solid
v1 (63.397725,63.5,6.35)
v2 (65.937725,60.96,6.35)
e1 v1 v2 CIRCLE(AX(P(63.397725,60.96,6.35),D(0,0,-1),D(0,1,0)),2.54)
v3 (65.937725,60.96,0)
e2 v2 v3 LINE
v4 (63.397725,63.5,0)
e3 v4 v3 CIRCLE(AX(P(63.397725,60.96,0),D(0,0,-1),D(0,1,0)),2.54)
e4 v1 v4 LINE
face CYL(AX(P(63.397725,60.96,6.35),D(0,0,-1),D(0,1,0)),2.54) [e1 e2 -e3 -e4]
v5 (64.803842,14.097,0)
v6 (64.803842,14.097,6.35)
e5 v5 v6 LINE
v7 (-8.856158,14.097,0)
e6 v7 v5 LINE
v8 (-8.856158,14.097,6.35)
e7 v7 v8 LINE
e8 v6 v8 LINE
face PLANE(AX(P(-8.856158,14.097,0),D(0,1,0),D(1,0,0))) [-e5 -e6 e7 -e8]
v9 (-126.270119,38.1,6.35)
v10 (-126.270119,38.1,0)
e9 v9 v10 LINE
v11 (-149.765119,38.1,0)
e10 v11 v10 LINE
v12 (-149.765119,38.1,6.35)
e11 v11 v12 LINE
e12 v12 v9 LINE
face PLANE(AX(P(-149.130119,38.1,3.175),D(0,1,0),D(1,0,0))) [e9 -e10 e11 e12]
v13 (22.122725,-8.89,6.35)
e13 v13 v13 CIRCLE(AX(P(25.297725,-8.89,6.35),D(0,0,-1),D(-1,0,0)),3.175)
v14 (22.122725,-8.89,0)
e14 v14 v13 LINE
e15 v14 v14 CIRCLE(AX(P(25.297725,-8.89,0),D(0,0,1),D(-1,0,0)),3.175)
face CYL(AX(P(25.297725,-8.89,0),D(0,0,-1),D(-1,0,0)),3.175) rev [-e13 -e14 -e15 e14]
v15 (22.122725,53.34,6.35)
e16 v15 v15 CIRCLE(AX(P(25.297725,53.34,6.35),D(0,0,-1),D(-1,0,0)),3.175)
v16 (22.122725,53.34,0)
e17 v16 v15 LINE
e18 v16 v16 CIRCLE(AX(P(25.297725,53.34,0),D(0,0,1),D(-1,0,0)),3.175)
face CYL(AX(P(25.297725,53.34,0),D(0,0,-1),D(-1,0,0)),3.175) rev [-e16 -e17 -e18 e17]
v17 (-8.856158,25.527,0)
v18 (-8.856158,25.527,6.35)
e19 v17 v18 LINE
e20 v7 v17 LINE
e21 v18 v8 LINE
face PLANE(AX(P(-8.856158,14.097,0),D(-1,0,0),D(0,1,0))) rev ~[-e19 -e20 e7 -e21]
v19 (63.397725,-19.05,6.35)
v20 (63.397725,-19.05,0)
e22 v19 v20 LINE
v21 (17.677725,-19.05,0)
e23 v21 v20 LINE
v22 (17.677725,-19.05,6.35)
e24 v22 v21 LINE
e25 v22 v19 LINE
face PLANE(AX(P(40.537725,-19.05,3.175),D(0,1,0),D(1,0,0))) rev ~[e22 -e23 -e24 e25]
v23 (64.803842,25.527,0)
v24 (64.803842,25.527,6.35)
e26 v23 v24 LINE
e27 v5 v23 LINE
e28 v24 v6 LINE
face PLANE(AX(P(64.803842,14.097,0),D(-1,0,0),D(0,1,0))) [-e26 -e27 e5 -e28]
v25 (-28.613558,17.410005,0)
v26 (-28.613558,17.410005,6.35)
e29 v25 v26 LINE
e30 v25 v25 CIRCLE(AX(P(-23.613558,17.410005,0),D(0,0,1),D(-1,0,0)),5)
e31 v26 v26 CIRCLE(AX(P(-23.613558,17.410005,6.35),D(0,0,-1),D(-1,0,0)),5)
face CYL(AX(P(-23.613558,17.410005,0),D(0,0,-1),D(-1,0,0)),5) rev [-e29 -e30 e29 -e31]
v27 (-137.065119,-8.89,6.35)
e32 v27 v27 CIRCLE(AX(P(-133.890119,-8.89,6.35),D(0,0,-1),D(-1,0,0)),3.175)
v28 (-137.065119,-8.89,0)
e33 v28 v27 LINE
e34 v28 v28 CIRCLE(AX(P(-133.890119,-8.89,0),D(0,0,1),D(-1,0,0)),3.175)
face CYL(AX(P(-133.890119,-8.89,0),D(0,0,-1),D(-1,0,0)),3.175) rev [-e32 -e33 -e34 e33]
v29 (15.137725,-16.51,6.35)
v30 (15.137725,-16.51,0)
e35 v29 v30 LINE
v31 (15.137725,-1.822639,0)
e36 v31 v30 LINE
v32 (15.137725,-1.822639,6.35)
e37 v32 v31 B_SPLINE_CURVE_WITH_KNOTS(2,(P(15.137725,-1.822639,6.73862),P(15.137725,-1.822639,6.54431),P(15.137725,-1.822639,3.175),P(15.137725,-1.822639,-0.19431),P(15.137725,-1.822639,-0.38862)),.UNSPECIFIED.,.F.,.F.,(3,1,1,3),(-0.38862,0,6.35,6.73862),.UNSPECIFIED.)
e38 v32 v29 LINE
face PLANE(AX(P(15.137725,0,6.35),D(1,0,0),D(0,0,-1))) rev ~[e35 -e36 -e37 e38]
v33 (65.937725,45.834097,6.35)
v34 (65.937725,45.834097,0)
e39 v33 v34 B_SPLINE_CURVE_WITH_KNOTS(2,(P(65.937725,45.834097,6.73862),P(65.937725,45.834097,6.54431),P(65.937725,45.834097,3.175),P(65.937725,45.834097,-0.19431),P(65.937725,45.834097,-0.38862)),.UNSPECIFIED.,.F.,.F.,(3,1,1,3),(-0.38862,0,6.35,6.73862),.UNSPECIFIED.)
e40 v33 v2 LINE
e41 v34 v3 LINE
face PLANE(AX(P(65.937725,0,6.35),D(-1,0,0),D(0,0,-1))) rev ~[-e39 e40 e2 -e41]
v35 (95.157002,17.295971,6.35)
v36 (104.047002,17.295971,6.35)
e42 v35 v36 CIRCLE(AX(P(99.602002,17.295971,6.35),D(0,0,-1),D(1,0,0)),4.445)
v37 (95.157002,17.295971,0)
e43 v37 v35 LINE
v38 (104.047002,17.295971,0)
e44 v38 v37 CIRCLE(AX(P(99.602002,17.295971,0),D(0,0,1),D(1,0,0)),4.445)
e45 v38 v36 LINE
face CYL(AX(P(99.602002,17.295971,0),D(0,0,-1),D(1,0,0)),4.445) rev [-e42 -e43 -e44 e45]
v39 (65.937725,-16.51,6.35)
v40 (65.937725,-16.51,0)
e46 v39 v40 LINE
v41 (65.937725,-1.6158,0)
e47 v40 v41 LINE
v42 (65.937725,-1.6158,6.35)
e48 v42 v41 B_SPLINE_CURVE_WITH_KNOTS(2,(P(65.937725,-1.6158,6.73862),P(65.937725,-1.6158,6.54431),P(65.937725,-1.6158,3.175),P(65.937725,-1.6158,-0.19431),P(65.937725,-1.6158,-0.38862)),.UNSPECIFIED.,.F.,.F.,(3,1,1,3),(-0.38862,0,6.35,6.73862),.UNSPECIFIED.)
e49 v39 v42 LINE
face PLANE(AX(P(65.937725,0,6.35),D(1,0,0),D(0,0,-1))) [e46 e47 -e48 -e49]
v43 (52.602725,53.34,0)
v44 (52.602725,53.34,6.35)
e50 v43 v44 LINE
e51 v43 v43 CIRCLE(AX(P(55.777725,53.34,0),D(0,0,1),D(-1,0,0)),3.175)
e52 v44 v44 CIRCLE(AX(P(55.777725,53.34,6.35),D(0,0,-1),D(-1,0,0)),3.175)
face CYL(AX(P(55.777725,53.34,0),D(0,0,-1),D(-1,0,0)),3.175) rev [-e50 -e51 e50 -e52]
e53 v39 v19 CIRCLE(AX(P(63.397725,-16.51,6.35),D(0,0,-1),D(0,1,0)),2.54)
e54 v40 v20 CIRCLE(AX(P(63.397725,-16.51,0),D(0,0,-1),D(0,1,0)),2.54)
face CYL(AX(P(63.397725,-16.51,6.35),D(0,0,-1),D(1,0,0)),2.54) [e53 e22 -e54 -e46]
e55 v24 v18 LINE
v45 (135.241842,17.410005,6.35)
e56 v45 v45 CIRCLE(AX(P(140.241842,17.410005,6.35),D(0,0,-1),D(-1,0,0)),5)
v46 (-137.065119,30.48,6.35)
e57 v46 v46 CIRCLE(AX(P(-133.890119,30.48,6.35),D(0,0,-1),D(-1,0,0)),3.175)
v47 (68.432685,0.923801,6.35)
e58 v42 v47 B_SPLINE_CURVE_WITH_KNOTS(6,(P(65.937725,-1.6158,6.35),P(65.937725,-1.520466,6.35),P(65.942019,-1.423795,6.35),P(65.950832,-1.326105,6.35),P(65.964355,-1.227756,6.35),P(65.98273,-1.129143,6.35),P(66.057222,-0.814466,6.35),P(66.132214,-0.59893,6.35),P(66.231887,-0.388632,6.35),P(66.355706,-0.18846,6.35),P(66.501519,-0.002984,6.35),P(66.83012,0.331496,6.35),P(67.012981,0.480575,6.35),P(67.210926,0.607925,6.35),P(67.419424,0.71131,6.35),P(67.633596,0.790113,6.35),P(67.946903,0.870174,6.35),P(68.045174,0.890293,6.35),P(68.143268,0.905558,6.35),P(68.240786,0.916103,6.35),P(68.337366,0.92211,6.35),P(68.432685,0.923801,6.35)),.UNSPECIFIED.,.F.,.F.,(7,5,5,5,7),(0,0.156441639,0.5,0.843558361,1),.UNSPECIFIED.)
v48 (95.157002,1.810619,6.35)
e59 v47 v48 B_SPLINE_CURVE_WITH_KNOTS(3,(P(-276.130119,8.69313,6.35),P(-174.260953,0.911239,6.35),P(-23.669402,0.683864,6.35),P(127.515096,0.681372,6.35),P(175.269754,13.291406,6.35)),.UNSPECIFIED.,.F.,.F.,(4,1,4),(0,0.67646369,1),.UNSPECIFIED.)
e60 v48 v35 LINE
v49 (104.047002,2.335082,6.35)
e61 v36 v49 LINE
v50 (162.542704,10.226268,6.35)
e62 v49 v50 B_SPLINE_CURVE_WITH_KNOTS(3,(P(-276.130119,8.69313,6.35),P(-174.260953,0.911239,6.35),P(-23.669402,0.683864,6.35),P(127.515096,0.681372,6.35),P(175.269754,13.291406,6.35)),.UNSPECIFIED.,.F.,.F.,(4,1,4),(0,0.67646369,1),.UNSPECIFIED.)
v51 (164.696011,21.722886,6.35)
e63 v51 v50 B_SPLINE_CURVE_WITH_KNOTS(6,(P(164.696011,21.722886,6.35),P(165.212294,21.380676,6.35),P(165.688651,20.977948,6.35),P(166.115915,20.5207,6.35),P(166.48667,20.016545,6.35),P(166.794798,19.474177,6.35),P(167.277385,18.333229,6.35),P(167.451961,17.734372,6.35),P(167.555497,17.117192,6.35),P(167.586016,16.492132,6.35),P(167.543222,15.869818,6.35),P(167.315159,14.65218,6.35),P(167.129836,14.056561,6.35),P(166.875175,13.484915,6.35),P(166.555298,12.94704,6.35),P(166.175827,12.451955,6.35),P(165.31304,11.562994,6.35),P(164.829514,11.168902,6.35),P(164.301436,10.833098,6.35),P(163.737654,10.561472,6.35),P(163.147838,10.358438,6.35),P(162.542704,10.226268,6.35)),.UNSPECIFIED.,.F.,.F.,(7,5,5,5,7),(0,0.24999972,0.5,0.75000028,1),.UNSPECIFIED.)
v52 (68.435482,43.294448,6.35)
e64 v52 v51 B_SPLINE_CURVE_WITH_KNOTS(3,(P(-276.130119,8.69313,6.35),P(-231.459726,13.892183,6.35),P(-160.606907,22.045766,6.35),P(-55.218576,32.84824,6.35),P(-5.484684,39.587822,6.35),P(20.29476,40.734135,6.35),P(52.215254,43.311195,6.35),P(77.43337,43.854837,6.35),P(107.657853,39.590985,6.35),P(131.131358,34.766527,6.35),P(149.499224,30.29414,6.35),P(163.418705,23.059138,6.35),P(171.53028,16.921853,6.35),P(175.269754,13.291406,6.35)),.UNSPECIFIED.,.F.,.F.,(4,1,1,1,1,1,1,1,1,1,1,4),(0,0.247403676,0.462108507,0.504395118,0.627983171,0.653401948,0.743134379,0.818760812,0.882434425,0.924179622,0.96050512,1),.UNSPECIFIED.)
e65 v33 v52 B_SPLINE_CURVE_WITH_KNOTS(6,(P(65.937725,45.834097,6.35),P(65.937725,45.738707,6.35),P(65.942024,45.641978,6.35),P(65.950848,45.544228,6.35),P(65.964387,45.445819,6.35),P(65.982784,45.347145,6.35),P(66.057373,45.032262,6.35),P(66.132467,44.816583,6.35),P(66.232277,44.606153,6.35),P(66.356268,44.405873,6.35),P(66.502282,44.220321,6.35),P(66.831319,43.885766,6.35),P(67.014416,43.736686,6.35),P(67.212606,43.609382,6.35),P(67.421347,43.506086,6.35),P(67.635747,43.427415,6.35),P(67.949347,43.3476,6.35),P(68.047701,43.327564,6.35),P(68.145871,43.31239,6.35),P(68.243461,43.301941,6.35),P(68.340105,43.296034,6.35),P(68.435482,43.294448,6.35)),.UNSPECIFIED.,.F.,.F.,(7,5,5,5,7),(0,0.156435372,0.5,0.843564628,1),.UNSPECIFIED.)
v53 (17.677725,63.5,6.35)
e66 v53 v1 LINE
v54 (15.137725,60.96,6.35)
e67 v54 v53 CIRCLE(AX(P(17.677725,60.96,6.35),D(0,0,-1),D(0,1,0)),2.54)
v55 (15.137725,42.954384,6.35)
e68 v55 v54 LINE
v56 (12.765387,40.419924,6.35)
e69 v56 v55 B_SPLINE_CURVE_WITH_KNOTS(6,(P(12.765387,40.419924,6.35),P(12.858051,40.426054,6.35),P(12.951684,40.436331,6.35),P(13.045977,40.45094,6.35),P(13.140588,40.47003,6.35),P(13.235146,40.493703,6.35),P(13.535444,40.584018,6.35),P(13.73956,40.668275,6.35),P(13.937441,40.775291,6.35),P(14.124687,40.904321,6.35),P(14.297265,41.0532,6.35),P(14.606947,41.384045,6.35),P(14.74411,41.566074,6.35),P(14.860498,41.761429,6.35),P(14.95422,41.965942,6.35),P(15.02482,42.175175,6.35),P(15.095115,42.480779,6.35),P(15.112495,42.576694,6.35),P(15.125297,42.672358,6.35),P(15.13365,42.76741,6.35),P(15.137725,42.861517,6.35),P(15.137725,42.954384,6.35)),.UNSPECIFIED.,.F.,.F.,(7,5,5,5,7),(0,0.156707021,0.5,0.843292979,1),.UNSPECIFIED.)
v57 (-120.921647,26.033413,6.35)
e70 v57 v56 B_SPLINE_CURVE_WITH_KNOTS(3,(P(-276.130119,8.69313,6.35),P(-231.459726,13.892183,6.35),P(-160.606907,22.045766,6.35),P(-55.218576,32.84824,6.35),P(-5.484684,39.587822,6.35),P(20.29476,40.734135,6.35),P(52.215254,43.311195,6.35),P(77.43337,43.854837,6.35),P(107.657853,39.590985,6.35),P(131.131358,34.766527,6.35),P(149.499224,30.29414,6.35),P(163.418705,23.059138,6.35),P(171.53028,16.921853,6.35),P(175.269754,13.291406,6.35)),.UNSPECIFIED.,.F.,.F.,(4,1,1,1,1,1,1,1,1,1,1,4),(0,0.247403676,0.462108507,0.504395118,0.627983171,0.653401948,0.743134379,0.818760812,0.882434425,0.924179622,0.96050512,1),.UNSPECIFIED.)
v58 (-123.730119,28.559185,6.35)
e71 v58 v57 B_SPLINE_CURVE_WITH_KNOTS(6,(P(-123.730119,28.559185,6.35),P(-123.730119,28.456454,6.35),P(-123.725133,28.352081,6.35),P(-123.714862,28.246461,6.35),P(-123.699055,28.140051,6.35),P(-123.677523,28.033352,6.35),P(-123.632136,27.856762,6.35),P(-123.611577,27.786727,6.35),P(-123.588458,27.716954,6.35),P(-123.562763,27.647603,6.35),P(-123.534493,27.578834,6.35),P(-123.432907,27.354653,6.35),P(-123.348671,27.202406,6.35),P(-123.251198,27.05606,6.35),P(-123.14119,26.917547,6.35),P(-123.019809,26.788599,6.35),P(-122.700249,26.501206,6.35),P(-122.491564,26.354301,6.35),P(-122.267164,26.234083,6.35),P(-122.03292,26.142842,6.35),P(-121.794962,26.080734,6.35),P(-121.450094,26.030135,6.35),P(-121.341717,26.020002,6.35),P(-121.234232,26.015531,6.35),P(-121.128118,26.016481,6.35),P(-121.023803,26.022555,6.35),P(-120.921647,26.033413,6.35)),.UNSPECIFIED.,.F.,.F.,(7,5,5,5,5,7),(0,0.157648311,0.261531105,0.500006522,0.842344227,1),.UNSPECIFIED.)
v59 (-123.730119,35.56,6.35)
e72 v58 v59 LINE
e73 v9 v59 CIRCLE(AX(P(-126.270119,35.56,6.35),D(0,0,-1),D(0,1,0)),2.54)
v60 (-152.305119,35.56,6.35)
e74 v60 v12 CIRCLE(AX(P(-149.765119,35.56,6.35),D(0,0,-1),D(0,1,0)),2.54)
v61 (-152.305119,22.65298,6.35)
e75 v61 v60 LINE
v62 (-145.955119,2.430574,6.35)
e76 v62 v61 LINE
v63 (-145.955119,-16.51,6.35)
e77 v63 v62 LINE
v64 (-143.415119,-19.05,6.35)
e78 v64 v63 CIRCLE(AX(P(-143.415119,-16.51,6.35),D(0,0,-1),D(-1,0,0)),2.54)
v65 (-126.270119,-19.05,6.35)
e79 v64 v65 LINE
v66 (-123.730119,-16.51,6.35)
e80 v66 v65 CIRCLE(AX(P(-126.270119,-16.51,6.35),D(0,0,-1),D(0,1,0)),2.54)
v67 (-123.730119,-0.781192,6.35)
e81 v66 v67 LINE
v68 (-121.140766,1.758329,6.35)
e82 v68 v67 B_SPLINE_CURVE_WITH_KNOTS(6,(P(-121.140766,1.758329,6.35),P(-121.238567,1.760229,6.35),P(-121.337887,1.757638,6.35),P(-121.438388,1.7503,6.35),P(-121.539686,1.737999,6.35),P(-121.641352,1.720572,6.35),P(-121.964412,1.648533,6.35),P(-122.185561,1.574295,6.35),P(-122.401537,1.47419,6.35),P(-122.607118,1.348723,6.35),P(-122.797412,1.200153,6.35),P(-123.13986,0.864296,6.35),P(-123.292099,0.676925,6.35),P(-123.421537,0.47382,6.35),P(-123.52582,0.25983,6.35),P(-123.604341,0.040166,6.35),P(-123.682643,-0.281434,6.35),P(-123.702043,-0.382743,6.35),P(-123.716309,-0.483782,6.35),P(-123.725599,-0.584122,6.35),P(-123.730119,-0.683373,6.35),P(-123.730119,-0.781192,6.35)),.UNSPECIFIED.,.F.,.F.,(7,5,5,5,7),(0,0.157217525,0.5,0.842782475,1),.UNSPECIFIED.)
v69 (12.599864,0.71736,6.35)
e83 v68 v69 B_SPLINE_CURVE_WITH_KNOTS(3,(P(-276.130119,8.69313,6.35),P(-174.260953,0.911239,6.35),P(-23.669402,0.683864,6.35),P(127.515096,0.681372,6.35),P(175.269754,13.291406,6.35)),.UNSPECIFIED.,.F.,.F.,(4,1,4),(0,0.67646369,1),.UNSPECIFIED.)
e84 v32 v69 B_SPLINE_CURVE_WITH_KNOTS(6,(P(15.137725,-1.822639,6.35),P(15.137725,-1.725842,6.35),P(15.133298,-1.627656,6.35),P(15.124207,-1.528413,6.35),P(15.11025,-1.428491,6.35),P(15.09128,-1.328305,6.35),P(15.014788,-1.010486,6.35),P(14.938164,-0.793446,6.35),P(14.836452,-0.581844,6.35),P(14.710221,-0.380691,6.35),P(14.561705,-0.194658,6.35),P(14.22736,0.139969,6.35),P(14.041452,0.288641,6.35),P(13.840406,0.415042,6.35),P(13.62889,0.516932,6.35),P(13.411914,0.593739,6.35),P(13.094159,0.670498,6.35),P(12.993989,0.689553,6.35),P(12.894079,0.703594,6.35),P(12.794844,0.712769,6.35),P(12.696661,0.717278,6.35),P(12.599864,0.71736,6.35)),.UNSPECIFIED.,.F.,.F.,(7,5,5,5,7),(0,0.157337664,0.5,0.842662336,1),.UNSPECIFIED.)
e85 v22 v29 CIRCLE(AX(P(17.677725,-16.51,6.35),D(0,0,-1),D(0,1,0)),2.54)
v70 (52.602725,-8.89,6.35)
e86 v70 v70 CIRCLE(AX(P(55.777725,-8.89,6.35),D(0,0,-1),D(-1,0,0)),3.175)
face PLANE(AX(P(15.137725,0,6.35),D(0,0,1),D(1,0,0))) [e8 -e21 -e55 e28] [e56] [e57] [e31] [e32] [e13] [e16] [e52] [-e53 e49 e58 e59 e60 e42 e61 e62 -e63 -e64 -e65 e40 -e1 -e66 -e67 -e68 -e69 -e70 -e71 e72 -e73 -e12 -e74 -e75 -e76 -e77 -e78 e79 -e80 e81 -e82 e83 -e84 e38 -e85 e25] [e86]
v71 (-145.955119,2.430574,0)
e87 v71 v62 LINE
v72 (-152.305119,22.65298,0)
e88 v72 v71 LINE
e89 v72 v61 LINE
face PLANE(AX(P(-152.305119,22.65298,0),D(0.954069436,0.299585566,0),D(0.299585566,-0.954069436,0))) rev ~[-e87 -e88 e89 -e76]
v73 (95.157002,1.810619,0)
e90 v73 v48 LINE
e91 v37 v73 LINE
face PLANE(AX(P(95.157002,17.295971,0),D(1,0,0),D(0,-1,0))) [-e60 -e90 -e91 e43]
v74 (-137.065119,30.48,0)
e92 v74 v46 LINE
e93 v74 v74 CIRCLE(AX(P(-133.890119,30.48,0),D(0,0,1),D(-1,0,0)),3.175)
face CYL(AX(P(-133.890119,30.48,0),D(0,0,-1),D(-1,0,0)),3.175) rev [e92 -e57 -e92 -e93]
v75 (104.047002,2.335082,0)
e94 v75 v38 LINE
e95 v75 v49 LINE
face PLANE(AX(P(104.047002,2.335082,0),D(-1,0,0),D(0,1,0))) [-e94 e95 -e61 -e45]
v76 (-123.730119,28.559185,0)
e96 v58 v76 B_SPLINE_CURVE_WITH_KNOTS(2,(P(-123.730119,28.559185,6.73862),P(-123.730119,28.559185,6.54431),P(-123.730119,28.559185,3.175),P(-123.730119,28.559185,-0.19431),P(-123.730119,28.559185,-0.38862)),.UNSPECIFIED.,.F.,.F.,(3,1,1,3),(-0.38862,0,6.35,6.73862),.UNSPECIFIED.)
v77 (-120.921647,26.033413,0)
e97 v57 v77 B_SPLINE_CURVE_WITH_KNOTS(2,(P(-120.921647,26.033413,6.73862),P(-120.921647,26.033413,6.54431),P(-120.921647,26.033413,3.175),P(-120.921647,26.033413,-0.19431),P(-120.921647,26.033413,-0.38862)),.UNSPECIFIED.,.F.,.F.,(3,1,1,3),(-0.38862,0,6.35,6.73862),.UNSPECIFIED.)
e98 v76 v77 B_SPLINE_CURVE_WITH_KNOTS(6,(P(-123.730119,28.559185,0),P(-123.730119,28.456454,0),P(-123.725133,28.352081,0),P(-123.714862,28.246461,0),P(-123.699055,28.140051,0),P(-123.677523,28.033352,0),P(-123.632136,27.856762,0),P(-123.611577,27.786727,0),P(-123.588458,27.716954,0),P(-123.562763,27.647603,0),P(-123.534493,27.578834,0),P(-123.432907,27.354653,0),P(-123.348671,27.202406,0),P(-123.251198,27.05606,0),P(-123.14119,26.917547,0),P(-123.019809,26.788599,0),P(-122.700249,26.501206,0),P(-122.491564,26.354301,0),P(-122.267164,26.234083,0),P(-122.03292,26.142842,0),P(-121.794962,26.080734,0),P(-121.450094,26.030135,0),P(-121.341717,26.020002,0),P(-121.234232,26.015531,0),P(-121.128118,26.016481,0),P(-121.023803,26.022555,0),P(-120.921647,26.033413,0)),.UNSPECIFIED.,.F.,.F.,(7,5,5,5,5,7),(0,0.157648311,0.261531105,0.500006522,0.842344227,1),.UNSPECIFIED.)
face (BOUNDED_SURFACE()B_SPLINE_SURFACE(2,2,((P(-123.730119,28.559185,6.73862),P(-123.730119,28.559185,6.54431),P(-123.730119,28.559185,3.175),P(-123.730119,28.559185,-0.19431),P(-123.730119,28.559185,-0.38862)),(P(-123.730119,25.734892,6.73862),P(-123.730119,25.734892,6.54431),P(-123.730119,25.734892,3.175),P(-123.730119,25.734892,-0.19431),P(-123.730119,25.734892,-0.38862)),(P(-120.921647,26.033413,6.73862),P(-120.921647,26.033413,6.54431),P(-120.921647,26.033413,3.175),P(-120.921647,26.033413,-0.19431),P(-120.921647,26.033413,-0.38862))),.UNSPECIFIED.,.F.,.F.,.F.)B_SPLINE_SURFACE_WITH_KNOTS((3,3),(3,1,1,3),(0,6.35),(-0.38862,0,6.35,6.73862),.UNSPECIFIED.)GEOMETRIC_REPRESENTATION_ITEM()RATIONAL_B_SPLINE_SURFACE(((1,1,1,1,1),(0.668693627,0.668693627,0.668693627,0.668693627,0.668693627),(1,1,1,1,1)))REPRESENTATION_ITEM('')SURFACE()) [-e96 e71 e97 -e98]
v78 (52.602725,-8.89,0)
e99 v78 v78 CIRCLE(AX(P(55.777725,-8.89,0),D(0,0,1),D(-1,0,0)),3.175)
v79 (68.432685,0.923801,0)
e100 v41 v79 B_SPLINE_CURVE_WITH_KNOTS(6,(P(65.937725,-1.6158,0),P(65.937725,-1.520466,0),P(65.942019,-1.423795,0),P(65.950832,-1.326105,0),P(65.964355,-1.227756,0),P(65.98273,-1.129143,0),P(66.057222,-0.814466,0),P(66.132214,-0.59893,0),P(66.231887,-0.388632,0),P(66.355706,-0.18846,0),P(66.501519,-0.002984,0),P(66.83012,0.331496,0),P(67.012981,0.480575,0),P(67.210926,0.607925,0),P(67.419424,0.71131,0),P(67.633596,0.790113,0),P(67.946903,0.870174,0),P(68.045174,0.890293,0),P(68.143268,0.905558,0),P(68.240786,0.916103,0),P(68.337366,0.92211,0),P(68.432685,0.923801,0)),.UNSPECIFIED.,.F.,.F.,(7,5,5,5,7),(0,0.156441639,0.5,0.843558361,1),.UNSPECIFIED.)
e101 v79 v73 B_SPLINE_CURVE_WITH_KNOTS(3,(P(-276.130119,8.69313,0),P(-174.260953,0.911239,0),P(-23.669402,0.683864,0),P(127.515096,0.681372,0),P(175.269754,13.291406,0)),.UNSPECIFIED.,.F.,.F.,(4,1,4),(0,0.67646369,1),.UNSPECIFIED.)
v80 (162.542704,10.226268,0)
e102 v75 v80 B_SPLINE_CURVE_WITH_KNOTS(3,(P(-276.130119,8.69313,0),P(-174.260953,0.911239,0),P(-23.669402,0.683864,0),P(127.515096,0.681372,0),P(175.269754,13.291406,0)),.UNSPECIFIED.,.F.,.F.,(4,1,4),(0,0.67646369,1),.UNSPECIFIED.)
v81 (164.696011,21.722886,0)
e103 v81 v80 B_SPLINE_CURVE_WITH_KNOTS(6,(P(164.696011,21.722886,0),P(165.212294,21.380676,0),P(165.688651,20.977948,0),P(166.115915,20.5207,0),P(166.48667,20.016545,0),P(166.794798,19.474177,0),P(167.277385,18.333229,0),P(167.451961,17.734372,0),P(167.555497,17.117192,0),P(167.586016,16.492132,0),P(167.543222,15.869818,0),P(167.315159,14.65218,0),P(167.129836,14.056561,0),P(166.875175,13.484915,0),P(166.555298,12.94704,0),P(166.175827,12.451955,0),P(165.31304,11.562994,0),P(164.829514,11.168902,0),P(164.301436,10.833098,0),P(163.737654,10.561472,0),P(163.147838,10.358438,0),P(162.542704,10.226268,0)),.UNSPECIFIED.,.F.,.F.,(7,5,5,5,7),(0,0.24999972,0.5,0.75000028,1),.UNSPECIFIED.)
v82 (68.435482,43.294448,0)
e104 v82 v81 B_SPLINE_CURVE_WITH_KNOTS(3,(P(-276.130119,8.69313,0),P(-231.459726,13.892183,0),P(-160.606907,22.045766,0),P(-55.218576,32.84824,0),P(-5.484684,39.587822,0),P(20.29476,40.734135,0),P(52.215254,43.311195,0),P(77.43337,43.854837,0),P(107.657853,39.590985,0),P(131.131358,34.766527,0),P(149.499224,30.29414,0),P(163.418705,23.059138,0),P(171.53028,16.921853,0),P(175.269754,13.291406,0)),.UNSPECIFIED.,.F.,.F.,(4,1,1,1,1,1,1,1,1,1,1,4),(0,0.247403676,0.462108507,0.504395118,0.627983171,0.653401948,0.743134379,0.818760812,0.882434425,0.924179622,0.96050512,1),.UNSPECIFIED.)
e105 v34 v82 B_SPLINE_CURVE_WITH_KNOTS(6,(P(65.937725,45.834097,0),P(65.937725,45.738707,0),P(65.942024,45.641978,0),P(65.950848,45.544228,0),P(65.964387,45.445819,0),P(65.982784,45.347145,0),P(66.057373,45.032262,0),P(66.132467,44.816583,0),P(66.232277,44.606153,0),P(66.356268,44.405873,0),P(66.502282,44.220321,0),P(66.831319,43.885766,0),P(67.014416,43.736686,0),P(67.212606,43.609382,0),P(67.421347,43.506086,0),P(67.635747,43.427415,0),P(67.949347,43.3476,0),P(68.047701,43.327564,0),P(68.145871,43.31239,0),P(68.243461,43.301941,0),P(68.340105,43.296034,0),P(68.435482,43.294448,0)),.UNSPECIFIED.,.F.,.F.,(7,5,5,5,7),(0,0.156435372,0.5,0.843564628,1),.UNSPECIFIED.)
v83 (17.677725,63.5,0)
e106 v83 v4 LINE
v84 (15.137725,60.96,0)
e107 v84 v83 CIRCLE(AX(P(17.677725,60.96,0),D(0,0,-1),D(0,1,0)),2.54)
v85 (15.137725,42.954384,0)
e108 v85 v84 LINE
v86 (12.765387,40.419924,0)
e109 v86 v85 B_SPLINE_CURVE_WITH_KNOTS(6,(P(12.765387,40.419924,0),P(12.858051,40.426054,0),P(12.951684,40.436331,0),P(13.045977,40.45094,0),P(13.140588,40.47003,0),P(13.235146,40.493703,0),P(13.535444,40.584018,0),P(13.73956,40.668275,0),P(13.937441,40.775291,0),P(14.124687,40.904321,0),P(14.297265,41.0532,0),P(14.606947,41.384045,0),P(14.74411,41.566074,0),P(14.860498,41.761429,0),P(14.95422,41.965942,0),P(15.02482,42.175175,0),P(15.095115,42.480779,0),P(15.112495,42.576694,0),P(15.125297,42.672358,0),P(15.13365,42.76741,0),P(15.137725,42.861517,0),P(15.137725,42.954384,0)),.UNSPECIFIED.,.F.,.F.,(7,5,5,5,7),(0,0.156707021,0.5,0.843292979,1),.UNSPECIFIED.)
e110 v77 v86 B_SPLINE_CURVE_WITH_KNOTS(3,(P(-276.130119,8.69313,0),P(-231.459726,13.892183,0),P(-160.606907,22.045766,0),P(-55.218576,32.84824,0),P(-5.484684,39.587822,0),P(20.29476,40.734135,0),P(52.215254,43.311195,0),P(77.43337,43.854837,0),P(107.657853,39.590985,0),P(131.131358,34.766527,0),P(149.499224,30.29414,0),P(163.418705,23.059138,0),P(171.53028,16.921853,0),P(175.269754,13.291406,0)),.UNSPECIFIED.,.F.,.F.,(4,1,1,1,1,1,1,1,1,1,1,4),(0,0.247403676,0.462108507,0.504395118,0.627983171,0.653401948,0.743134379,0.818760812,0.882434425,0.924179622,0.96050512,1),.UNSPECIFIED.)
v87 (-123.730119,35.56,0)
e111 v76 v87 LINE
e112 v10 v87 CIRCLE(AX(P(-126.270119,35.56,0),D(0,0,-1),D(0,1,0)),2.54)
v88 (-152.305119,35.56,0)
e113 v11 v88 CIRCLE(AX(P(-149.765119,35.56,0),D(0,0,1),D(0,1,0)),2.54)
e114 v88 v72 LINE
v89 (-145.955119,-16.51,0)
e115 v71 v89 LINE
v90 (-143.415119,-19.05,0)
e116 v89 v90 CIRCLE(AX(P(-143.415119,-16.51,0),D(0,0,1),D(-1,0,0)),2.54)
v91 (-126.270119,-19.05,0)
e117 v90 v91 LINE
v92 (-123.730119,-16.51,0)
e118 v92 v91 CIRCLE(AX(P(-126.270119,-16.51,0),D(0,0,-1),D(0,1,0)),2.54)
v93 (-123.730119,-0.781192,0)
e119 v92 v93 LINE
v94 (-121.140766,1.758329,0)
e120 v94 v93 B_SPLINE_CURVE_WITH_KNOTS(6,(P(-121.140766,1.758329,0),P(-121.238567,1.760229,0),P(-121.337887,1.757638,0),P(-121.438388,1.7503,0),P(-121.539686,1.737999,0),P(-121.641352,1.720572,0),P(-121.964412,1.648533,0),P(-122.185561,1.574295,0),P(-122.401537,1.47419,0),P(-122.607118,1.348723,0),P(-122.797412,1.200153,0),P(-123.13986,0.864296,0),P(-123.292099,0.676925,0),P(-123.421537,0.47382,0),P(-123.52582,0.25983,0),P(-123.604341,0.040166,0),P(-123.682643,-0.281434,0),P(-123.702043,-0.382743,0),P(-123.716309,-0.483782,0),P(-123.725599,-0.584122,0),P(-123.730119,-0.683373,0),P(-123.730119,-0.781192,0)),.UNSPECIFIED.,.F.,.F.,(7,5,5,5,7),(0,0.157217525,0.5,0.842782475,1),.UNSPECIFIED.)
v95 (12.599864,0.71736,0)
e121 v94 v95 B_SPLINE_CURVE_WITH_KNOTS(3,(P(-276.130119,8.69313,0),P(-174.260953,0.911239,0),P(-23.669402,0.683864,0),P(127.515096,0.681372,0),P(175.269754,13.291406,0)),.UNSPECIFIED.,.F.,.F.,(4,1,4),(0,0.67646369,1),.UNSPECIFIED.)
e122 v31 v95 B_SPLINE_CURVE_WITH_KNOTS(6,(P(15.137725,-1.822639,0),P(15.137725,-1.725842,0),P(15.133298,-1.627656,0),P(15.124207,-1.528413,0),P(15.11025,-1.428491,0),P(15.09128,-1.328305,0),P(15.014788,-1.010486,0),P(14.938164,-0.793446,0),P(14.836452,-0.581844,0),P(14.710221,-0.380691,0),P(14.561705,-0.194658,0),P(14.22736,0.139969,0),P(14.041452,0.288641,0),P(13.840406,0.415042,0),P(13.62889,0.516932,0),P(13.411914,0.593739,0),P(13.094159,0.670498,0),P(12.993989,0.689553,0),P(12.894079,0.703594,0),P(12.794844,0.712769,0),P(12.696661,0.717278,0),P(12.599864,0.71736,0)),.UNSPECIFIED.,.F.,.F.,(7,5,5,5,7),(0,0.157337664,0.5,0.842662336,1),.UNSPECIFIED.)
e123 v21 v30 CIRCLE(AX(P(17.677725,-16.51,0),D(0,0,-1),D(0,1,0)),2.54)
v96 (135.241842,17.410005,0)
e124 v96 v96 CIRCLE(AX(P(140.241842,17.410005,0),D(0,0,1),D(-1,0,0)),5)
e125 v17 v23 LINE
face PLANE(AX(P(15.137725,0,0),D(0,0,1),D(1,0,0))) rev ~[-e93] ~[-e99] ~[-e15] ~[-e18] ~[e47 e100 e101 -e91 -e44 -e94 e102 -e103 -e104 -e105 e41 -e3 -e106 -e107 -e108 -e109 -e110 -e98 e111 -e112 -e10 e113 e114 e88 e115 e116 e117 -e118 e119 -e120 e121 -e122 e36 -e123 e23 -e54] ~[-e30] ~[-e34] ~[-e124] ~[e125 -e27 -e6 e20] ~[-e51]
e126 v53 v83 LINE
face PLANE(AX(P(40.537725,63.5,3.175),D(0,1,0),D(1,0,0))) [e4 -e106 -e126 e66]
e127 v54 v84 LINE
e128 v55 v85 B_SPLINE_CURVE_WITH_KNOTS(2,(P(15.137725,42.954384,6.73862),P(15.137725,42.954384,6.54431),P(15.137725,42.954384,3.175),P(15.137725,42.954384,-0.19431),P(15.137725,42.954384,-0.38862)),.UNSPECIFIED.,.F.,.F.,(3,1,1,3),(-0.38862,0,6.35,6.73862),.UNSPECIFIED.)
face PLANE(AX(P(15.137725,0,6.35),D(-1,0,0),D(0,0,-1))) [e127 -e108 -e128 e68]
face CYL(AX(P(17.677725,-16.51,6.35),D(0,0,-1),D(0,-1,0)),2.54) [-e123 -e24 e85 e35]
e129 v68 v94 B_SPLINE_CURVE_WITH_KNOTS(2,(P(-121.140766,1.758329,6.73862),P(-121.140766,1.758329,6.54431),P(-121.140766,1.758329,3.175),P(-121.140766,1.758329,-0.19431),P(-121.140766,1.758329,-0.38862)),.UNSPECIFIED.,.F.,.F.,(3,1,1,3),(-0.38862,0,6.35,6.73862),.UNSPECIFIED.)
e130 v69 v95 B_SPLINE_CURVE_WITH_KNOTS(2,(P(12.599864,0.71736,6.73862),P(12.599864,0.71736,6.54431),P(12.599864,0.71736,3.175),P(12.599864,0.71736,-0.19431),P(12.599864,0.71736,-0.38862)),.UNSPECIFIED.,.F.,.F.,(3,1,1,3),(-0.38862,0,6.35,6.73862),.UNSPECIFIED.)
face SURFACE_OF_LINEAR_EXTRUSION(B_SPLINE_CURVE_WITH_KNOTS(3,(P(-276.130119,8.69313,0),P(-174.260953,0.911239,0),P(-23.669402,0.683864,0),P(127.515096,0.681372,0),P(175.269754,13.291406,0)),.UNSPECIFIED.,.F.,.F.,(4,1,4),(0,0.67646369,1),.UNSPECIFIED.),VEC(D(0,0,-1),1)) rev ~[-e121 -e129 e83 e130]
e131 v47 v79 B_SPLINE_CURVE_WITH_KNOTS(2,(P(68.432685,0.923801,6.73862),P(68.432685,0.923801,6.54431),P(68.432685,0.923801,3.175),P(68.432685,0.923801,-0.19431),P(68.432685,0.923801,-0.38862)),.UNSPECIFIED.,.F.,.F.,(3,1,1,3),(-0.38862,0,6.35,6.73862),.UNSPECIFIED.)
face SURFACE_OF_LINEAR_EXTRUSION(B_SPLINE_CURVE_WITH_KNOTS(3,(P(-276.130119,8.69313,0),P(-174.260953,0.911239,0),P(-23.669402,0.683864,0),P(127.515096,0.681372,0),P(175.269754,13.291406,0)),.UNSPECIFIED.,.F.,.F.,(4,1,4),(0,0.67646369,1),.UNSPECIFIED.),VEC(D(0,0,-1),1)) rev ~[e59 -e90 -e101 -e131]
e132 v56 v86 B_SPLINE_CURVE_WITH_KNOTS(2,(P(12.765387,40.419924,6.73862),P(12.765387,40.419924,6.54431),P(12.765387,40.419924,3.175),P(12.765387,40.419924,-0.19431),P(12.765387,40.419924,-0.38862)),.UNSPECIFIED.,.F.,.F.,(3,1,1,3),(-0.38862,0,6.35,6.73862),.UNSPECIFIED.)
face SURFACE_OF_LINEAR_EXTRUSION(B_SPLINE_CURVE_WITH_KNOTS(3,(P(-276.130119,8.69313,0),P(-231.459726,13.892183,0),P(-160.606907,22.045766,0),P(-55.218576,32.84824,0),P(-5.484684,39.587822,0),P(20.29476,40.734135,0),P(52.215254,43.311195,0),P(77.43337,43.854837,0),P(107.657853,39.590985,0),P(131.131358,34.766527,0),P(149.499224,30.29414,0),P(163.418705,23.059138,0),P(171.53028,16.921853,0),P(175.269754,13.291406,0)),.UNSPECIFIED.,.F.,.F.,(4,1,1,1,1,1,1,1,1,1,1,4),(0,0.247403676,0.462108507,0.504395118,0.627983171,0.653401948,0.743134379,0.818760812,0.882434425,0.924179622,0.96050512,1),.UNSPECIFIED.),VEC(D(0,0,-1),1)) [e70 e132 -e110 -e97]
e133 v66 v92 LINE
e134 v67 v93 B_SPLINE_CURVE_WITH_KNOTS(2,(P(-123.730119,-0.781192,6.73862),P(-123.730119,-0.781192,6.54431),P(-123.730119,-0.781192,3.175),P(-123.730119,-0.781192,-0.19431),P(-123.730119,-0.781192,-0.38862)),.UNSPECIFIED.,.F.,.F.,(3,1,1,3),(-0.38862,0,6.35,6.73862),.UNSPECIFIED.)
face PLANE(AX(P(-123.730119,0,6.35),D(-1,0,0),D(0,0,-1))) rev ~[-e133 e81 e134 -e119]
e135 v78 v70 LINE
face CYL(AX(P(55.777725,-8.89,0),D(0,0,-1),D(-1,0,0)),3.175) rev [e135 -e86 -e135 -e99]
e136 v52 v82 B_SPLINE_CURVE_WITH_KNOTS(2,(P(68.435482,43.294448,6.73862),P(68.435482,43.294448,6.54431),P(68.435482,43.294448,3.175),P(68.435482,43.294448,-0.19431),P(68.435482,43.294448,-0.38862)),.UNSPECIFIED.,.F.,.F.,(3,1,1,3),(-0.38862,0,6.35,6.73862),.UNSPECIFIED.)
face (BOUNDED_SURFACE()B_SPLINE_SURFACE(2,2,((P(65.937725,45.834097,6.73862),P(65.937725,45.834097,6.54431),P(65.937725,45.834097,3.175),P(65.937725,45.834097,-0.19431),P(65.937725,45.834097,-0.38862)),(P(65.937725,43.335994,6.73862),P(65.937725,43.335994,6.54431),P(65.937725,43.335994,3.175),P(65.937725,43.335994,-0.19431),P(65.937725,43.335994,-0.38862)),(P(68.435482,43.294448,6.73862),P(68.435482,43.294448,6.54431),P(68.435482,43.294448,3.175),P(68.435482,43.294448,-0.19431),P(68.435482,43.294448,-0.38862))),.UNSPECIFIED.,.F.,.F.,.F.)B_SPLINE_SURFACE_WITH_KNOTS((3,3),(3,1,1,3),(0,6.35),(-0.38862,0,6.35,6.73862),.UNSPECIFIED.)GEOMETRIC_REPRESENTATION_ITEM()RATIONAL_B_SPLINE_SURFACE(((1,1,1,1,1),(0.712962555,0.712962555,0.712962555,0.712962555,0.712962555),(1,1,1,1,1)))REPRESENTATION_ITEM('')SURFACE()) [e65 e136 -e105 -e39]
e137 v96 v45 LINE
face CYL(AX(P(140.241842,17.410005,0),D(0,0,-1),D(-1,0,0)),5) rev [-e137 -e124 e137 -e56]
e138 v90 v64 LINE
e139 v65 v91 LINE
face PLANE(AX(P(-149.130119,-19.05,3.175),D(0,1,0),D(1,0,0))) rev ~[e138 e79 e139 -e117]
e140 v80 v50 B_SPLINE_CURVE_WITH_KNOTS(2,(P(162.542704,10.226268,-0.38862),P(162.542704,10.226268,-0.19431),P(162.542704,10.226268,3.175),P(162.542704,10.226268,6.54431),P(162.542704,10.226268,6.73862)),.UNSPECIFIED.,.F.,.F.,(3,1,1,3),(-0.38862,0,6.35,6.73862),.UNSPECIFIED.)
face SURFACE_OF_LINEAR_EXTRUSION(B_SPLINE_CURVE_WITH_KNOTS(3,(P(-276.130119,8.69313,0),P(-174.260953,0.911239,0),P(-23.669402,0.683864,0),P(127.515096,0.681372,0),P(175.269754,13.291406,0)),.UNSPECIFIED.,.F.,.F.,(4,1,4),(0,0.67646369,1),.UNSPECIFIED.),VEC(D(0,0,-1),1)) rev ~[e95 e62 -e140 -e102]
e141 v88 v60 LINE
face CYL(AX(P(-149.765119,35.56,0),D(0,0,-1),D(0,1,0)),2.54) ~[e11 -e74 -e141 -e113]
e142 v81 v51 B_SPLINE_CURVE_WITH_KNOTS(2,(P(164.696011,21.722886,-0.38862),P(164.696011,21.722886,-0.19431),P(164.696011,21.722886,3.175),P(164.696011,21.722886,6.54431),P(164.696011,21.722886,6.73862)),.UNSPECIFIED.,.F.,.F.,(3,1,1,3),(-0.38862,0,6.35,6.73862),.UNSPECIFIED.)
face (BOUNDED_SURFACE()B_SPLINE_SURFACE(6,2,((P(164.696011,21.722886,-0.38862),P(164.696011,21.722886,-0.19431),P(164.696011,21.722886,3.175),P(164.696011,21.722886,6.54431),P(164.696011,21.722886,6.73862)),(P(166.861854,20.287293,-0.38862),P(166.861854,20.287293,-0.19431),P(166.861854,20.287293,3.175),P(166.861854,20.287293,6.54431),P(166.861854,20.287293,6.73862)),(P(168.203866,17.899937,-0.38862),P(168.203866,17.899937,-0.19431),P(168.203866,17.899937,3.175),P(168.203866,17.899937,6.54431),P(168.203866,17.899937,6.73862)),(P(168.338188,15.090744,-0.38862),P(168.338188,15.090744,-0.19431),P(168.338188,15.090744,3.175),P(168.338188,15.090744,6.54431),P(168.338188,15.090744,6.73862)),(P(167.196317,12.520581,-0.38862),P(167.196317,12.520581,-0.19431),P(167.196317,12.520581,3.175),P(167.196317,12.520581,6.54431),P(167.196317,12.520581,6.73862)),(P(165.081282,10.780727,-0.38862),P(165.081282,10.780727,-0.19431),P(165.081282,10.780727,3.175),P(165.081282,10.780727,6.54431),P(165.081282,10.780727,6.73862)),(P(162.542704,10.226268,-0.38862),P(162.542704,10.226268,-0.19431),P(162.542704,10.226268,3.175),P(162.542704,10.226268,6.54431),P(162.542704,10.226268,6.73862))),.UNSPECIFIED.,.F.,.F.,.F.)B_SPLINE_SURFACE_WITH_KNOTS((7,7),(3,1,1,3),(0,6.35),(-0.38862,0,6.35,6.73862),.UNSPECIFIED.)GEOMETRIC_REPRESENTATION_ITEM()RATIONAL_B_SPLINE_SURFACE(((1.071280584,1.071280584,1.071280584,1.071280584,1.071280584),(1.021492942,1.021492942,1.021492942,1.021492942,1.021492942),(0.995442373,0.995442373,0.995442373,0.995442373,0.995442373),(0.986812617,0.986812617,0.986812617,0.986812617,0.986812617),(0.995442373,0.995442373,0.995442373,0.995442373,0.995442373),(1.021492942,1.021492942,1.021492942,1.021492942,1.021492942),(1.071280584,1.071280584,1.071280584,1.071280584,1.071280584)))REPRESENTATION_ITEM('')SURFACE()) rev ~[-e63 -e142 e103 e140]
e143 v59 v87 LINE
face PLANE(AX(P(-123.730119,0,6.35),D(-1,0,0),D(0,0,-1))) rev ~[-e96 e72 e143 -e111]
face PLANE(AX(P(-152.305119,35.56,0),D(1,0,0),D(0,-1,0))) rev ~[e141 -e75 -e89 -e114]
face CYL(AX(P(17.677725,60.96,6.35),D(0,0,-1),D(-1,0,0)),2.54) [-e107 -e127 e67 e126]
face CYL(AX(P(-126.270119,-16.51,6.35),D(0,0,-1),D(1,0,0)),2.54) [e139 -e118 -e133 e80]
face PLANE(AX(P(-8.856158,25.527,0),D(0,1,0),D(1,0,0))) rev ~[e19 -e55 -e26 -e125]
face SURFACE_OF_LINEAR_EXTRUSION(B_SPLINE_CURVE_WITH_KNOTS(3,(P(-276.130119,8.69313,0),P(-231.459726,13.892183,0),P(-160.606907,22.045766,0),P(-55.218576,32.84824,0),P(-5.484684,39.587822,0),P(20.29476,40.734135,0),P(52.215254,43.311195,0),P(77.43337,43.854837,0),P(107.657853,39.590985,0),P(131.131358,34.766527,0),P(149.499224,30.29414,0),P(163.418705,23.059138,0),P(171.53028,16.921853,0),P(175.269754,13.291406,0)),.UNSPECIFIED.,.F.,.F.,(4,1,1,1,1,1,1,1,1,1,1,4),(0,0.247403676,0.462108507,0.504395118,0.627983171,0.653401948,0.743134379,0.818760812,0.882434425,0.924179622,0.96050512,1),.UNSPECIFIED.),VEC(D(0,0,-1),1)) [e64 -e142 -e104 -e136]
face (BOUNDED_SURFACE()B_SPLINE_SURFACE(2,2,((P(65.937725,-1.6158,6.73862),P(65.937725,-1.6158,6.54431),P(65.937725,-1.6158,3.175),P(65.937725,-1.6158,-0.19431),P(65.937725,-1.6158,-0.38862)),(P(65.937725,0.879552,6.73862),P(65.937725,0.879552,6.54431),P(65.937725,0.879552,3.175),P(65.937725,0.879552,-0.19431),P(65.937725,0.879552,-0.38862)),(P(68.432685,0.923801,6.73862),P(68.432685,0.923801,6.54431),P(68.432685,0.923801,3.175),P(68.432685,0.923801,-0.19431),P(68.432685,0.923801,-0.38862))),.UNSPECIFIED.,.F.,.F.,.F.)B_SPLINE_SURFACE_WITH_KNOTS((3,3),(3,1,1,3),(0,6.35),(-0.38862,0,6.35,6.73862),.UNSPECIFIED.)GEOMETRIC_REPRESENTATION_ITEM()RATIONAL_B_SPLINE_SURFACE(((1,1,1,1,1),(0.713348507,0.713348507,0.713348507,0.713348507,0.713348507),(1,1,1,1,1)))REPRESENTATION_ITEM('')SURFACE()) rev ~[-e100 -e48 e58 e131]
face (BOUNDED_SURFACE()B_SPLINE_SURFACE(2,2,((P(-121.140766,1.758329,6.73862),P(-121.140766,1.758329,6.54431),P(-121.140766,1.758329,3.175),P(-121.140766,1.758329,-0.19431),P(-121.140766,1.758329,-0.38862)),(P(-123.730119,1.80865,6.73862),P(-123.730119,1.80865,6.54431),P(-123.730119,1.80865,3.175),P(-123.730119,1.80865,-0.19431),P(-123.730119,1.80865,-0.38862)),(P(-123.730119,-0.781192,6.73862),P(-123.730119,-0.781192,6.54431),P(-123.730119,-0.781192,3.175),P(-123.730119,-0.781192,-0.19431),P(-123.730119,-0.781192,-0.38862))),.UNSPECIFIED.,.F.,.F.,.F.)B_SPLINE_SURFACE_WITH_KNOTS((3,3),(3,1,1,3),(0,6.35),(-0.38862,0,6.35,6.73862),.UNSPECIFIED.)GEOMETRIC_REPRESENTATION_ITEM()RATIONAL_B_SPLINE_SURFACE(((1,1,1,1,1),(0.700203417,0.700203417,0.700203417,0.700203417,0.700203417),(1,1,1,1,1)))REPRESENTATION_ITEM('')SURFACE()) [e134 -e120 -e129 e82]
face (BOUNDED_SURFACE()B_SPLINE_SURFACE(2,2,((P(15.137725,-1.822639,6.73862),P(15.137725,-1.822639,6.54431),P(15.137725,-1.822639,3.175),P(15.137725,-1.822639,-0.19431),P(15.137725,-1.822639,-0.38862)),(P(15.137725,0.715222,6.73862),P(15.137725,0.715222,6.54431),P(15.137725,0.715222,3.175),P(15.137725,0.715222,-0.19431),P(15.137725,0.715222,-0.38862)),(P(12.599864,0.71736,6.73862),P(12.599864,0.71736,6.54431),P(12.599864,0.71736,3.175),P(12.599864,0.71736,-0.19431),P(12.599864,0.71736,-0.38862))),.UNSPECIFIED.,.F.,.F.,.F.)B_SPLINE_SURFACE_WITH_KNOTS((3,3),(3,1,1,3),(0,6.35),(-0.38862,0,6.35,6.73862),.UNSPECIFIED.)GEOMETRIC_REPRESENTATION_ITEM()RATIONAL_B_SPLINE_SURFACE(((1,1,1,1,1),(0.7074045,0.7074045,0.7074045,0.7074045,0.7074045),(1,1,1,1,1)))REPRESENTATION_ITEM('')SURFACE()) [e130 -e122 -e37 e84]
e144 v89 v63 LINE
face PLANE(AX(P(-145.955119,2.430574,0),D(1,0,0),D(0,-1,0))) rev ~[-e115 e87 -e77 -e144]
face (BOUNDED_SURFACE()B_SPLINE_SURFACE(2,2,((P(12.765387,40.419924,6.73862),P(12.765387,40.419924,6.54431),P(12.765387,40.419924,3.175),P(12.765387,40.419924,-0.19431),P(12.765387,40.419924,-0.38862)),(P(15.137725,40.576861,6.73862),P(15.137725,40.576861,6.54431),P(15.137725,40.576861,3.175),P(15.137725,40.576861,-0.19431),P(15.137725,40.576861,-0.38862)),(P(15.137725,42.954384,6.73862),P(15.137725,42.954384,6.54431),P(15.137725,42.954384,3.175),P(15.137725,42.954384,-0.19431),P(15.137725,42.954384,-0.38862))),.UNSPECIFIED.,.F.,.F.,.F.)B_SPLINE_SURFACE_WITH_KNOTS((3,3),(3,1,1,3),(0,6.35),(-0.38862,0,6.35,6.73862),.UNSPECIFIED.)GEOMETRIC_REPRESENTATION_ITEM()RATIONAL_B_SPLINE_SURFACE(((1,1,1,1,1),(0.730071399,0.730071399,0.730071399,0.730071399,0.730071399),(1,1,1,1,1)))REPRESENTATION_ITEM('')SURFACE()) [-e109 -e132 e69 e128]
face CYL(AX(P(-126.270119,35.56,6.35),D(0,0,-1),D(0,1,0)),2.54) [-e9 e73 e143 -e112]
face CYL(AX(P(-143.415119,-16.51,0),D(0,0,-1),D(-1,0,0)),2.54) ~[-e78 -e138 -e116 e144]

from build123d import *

# Parameters (mm, degrees)
BOSS_EXTRUDE1_DEPTH = 6.35
FILLET1_R           = 6.35
SKETCH2_W           = 50.8
SKETCH2_H           = 6.35
BOSS_EXTRUDE2_DEPTH = 19.05
SKETCH3_W           = 50.8
SKETCH3_H           = 6.35
BOSS_EXTRUDE3_DEPTH = 38.1
SKETCH4_W           = 50.8
SKETCH4_H           = 6.35
BOSS_EXTRUDE4_DEPTH = 63.5
FILLET2_R           = 2.54
SKETCH5_R           = 5
SKETCH5_W           = 73.66
SKETCH5_H           = 11.43
CUT_EXTRUDE3_DEPTH  = 284.408566149
SKETCH6_R           = 3.175
CUT_EXTRUDE4_DEPTH  = 284.408566149
SKETCH8_R           = 3.175
CUT_EXTRUDE5_DEPTH  = 284.408566149
CUT_EXTRUDE6_DEPTH  = 180.280400037


with BuildPart() as part:
    # Sketch1 → Boss-Extrude1 (new body)
    with BuildSketch(Plane.XY):
        with BuildLine():
            add(Edge.make_bspline(
                [(-276.130119323, 8.693130358), (-231.459725957, 13.892182525), (-160.606907467, 22.045765928), (-55.21857633, 32.848239562), (-5.484684229, 39.5878223), (20.294760191, 40.734135472), (52.215253795, 43.311195196), (77.433370096, 43.854837121), (107.657853328, 39.590984865), (131.131357877, 34.766526999), (149.499224412, 30.294140301), (163.418705178, 23.059137739), (171.530279946, 16.921852673), (175.269753602, 13.29140622)],
                knots=[0, 0, 0, 0, 0.247403676, 0.462108507, 0.504395118, 0.627983171, 0.653401948, 0.743134379, 0.818760812, 0.882434425, 0.924179622, 0.96050512, 1, 1, 1, 1], degree=3))
            add(Edge.make_bspline(
                [(-276.130119323, 8.693130358), (-174.260953063, 0.911239157), (-23.669401798, 0.683864032), (127.515095646, 0.681371654), (175.269753602, 13.29140622)],
                knots=[0, 0, 0, 0, 0.67646369, 1, 1, 1, 1], degree=3))
        make_face()
    extrude(amount=BOSS_EXTRUDE1_DEPTH)

    # Fillet1
    fillet1_edges = [part.edges().sort_by_distance(p)[0] for p in [
        (175.269753602, 13.29140622, 3.175),
    ]]
    fillet(fillet1_edges, radius=FILLET1_R)

    # Sketch2 → Boss-Extrude2 (add, symmetric)
    with BuildSketch(Plane(origin=(0, 0, 0), x_dir=(1, 0, 0), z_dir=(0, 1, 0))):
        with Locations((-149.130119323, -3.175)):
            Rectangle(SKETCH2_W, SKETCH2_H)
        with Locations((40.537724966, -3.175)):
            Rectangle(SKETCH2_W, SKETCH2_H)
    extrude(amount=BOSS_EXTRUDE2_DEPTH, both=True)

    # Sketch3 → Boss-Extrude3 (add)
    with BuildSketch(Plane(origin=(0, 0, 0), x_dir=(1, 0, 0), z_dir=(0, 1, 0))):
        with Locations((-149.130119323, -3.175)):
            Rectangle(SKETCH3_W, SKETCH3_H)
    extrude(amount=BOSS_EXTRUDE3_DEPTH)

    # Sketch4 → Boss-Extrude4 (add)
    with BuildSketch(Plane(origin=(0, 0, 0), x_dir=(1, 0, 0), z_dir=(0, 1, 0))):
        with Locations((40.537724966, -3.175)):
            Rectangle(SKETCH4_W, SKETCH4_H)
    extrude(amount=BOSS_EXTRUDE4_DEPTH)

    # Fillet2
    fillet2_edges = [part.edges().sort_by_distance(p)[0] for p in [
        (65.937724966, 0.882409675, 3.175),
        (15.137724966, 0.715325792, 3.175),
        (-123.730119323, 1.809475424, 3.175),
        (-174.530119323, 3.18492072, 3.175),
        (-174.530119323, 20.264304266, 3.175),
        (-123.730119323, 25.734914395, 3.175),
        (15.137724966, 40.575893827, 3.175),
        (65.937724966, 43.322928246, 3.175),
        (65.937724966, -19.05, 3.175),
        (15.137724966, -19.05, 3.175),
        (-174.530119323, -19.05, 3.175),
        (-123.730119323, -19.05, 3.175),
        (-174.530119323, 38.1, 3.175),
        (-123.730119323, 38.1, 3.175),
        (65.937724966, 63.5, 3.175),
        (15.137724966, 63.5, 3.175),
    ]]
    fillet(fillet2_edges, radius=FILLET2_R)

    # Sketch5 → Cut-Extrude3 (cut, through all)
    with BuildSketch(Plane.XY):
        with Locations(Location((140.241842338, 17.410004614, 0), (0, 0, 180))):
            Circle(SKETCH5_R)
        with Locations(Location((-23.613557662, 17.410004614, 0), (0, 0, 180))):
            Circle(SKETCH5_R)
        with Locations((27.973842338, 19.812)):
            Rectangle(SKETCH5_W, SKETCH5_H)
    extrude(amount=CUT_EXTRUDE3_DEPTH, mode=Mode.SUBTRACT)

    # Sketch6 → Cut-Extrude4 (cut, through all)
    with BuildSketch(Plane.XY):
        with Locations(Location((55.777724966, 53.34, 0), (0, 0, 180))):
            Circle(SKETCH6_R)
        with Locations(Location((25.297724966, 53.34, 0), (0, 0, 180))):
            Circle(SKETCH6_R)
        with Locations(Location((55.777724966, -8.89, 0), (0, 0, 180))):
            Circle(SKETCH6_R)
        with Locations(Location((25.297724966, -8.89, 0), (0, 0, 180))):
            Circle(SKETCH6_R)
        with Locations(Location((-133.890119323, 30.48, 0), (0, 0, 180))):
            Circle(SKETCH6_R)
        with Locations(Location((-164.370119323, 30.48, 0), (0, 0, 180))):
            Circle(SKETCH6_R)
        with Locations(Location((-133.890119323, -8.89, 0), (0, 0, 180))):
            Circle(SKETCH6_R)
        with Locations(Location((-164.370119323, -8.89, 0), (0, 0, 180))):
            Circle(SKETCH6_R)
    extrude(amount=CUT_EXTRUDE4_DEPTH, mode=Mode.SUBTRACT)

    # Sketch8 → Cut-Extrude5 (cut, through all)
    with BuildSketch(Plane(origin=(0, 0, 0), x_dir=(-1, 0, 0), z_dir=(0, 0, -1))):
        with BuildLine():
            Line((152.305119323, 35.56), (152.305119323, 22.652979968))
            Line((152.305119323, 22.652979968), (145.955119323, 2.430574079))
            Line((145.955119323, 2.430574079), (145.955119323, -16.51))
            ThreePointArc((145.955119323, -16.51), (145.211170547, -18.306051224), (143.415119323, -19.05))
            Line((143.415119323, -19.05), (171.990119323, -19.05))
            ThreePointArc((171.990119323, -19.05), (173.786170547, -18.306051224), (174.530119323, -16.51))
            Line((174.530119323, -16.51), (174.530119323, 0.732669408))
            add(Edge.make_bspline(
                [(174.530119323, 0.732669408), (174.530119323, 0.827098892), (174.534332017, 0.922829058), (174.542975148, 1.019550557), (174.556231365, 1.116913443), (174.574237139, 1.214535389), (174.647171539, 1.525872583), (174.720530405, 1.739086636), (174.817987929, 1.947258959), (174.939041393, 2.145669731), (175.081636695, 2.329900504), (175.40320955, 2.663115508), (175.582254784, 2.812169869), (175.77623684, 2.94020009), (175.980813085, 3.044996297), (176.191284552, 3.125888304), (176.499832231, 3.209844277), (176.59675239, 3.231309016), (176.693582493, 3.24801799), (176.789935606, 3.260093994), (176.885455508, 3.26770712), (176.979825307, 3.271063977)],
                knots=[0, 0, 0, 0, 0, 0, 0, 0.156541714, 0.156541714, 0.156541714, 0.156541714, 0.156541714, 0.5, 0.5, 0.5, 0.5, 0.5, 0.843458286, 0.843458286, 0.843458286, 0.843458286, 0.843458286, 1, 1, 1, 1, 1, 1, 1], degree=6))
            add(Edge.make_bspline(
                [(276.130119323, 8.693130358), (243.083160763, 6.168638939), (210.036144296, 4.446920485), (176.979825307, 3.271063977)],
                knots=[0, 0, 0, 0, 0.219448812, 0.219448812, 0.219448812, 0.219448812], degree=3))
            add(Edge.make_bspline(
                [(276.130119323, 8.693130358), (241.143309206, 12.765139518), (210.289343773, 16.325674302), (176.792020475, 20.015402476)],
                knots=[0, 0, 0, 0, 0.193771865, 0.193771865, 0.193771865, 0.193771865], degree=3))
            add(Edge.make_bspline(
                [(176.792020475, 20.015402476), (176.702534659, 20.025259334), (176.612334841, 20.039047045), (176.521708613, 20.056916996), (176.430972739, 20.078987549), (176.340465644, 20.105336292), (176.052123832, 20.203632982), (175.856494206, 20.292258021), (175.667511078, 20.402173666), (175.489198081, 20.532546831), (175.325208173, 20.681273314), (175.070618463, 20.965445878), (174.972096017, 21.093854031), (174.883813086, 21.22927413), (174.806550855, 21.370274525), (174.740735934, 21.515302785), (174.633101241, 21.807741296), (174.590880763, 21.955079167), (174.559863739, 22.103342362), (174.539790441, 22.251097449), (174.530119323, 22.397057265), (174.530119323, 22.540132369)],
                knots=[0, 0, 0, 0, 0, 0, 0, 0.155935083, 0.155935083, 0.155935083, 0.155935083, 0.155935083, 0.499997058, 0.499997058, 0.499997058, 0.499997058, 0.499997058, 0.752183878, 0.752183878, 0.752183878, 0.752183878, 0.752183878, 1, 1, 1, 1, 1, 1, 1], degree=6))
            Line((174.530119323, 22.540132369), (174.530119323, 35.56))
            ThreePointArc((174.530119323, 35.56), (173.786170547, 37.356051224), (171.990119323, 38.1))
            Line((171.990119323, 38.1), (149.765119323, 38.1))
            ThreePointArc((149.765119323, 38.1), (151.561170547, 37.356051224), (152.305119323, 35.56))
        make_face()
        with Locations((164.370119323, -8.89)):
            Circle(SKETCH8_R, mode=Mode.SUBTRACT)
        with Locations((164.370119323, 30.48)):
            Circle(SKETCH8_R, mode=Mode.SUBTRACT)
    extrude(amount=-CUT_EXTRUDE5_DEPTH, mode=Mode.SUBTRACT)

    # Sketch10 → Cut-Extrude6 (cut, through all)
    with BuildSketch(Plane(origin=(0, 0, 0), x_dir=(-1, 0, 0), z_dir=(0, 0, -1))):
        with BuildLine():
            Line((-95.157002323, 17.295971295), (-95.157002323, 1.810619129))
            add(Edge.make_bspline(
                [(-95.157002323, 1.810619129), (-98.122222912, 1.963522837), (-101.08564833, 2.137394625), (-104.047002323, 2.335082223)],
                knots=[0.821015806, 0.821015806, 0.821015806, 0.821015806, 0.840729968, 0.840729968, 0.840729968, 0.840729968], degree=3))
            Line((-104.047002323, 2.335082223), (-104.047002323, 17.295971295))
            ThreePointArc((-104.047002323, 17.295971295), (-99.602002323, 21.740971295), (-95.157002323, 17.295971295))
        make_face()
    extrude(amount=-CUT_EXTRUDE6_DEPTH, mode=Mode.SUBTRACT)


solid = part.part
